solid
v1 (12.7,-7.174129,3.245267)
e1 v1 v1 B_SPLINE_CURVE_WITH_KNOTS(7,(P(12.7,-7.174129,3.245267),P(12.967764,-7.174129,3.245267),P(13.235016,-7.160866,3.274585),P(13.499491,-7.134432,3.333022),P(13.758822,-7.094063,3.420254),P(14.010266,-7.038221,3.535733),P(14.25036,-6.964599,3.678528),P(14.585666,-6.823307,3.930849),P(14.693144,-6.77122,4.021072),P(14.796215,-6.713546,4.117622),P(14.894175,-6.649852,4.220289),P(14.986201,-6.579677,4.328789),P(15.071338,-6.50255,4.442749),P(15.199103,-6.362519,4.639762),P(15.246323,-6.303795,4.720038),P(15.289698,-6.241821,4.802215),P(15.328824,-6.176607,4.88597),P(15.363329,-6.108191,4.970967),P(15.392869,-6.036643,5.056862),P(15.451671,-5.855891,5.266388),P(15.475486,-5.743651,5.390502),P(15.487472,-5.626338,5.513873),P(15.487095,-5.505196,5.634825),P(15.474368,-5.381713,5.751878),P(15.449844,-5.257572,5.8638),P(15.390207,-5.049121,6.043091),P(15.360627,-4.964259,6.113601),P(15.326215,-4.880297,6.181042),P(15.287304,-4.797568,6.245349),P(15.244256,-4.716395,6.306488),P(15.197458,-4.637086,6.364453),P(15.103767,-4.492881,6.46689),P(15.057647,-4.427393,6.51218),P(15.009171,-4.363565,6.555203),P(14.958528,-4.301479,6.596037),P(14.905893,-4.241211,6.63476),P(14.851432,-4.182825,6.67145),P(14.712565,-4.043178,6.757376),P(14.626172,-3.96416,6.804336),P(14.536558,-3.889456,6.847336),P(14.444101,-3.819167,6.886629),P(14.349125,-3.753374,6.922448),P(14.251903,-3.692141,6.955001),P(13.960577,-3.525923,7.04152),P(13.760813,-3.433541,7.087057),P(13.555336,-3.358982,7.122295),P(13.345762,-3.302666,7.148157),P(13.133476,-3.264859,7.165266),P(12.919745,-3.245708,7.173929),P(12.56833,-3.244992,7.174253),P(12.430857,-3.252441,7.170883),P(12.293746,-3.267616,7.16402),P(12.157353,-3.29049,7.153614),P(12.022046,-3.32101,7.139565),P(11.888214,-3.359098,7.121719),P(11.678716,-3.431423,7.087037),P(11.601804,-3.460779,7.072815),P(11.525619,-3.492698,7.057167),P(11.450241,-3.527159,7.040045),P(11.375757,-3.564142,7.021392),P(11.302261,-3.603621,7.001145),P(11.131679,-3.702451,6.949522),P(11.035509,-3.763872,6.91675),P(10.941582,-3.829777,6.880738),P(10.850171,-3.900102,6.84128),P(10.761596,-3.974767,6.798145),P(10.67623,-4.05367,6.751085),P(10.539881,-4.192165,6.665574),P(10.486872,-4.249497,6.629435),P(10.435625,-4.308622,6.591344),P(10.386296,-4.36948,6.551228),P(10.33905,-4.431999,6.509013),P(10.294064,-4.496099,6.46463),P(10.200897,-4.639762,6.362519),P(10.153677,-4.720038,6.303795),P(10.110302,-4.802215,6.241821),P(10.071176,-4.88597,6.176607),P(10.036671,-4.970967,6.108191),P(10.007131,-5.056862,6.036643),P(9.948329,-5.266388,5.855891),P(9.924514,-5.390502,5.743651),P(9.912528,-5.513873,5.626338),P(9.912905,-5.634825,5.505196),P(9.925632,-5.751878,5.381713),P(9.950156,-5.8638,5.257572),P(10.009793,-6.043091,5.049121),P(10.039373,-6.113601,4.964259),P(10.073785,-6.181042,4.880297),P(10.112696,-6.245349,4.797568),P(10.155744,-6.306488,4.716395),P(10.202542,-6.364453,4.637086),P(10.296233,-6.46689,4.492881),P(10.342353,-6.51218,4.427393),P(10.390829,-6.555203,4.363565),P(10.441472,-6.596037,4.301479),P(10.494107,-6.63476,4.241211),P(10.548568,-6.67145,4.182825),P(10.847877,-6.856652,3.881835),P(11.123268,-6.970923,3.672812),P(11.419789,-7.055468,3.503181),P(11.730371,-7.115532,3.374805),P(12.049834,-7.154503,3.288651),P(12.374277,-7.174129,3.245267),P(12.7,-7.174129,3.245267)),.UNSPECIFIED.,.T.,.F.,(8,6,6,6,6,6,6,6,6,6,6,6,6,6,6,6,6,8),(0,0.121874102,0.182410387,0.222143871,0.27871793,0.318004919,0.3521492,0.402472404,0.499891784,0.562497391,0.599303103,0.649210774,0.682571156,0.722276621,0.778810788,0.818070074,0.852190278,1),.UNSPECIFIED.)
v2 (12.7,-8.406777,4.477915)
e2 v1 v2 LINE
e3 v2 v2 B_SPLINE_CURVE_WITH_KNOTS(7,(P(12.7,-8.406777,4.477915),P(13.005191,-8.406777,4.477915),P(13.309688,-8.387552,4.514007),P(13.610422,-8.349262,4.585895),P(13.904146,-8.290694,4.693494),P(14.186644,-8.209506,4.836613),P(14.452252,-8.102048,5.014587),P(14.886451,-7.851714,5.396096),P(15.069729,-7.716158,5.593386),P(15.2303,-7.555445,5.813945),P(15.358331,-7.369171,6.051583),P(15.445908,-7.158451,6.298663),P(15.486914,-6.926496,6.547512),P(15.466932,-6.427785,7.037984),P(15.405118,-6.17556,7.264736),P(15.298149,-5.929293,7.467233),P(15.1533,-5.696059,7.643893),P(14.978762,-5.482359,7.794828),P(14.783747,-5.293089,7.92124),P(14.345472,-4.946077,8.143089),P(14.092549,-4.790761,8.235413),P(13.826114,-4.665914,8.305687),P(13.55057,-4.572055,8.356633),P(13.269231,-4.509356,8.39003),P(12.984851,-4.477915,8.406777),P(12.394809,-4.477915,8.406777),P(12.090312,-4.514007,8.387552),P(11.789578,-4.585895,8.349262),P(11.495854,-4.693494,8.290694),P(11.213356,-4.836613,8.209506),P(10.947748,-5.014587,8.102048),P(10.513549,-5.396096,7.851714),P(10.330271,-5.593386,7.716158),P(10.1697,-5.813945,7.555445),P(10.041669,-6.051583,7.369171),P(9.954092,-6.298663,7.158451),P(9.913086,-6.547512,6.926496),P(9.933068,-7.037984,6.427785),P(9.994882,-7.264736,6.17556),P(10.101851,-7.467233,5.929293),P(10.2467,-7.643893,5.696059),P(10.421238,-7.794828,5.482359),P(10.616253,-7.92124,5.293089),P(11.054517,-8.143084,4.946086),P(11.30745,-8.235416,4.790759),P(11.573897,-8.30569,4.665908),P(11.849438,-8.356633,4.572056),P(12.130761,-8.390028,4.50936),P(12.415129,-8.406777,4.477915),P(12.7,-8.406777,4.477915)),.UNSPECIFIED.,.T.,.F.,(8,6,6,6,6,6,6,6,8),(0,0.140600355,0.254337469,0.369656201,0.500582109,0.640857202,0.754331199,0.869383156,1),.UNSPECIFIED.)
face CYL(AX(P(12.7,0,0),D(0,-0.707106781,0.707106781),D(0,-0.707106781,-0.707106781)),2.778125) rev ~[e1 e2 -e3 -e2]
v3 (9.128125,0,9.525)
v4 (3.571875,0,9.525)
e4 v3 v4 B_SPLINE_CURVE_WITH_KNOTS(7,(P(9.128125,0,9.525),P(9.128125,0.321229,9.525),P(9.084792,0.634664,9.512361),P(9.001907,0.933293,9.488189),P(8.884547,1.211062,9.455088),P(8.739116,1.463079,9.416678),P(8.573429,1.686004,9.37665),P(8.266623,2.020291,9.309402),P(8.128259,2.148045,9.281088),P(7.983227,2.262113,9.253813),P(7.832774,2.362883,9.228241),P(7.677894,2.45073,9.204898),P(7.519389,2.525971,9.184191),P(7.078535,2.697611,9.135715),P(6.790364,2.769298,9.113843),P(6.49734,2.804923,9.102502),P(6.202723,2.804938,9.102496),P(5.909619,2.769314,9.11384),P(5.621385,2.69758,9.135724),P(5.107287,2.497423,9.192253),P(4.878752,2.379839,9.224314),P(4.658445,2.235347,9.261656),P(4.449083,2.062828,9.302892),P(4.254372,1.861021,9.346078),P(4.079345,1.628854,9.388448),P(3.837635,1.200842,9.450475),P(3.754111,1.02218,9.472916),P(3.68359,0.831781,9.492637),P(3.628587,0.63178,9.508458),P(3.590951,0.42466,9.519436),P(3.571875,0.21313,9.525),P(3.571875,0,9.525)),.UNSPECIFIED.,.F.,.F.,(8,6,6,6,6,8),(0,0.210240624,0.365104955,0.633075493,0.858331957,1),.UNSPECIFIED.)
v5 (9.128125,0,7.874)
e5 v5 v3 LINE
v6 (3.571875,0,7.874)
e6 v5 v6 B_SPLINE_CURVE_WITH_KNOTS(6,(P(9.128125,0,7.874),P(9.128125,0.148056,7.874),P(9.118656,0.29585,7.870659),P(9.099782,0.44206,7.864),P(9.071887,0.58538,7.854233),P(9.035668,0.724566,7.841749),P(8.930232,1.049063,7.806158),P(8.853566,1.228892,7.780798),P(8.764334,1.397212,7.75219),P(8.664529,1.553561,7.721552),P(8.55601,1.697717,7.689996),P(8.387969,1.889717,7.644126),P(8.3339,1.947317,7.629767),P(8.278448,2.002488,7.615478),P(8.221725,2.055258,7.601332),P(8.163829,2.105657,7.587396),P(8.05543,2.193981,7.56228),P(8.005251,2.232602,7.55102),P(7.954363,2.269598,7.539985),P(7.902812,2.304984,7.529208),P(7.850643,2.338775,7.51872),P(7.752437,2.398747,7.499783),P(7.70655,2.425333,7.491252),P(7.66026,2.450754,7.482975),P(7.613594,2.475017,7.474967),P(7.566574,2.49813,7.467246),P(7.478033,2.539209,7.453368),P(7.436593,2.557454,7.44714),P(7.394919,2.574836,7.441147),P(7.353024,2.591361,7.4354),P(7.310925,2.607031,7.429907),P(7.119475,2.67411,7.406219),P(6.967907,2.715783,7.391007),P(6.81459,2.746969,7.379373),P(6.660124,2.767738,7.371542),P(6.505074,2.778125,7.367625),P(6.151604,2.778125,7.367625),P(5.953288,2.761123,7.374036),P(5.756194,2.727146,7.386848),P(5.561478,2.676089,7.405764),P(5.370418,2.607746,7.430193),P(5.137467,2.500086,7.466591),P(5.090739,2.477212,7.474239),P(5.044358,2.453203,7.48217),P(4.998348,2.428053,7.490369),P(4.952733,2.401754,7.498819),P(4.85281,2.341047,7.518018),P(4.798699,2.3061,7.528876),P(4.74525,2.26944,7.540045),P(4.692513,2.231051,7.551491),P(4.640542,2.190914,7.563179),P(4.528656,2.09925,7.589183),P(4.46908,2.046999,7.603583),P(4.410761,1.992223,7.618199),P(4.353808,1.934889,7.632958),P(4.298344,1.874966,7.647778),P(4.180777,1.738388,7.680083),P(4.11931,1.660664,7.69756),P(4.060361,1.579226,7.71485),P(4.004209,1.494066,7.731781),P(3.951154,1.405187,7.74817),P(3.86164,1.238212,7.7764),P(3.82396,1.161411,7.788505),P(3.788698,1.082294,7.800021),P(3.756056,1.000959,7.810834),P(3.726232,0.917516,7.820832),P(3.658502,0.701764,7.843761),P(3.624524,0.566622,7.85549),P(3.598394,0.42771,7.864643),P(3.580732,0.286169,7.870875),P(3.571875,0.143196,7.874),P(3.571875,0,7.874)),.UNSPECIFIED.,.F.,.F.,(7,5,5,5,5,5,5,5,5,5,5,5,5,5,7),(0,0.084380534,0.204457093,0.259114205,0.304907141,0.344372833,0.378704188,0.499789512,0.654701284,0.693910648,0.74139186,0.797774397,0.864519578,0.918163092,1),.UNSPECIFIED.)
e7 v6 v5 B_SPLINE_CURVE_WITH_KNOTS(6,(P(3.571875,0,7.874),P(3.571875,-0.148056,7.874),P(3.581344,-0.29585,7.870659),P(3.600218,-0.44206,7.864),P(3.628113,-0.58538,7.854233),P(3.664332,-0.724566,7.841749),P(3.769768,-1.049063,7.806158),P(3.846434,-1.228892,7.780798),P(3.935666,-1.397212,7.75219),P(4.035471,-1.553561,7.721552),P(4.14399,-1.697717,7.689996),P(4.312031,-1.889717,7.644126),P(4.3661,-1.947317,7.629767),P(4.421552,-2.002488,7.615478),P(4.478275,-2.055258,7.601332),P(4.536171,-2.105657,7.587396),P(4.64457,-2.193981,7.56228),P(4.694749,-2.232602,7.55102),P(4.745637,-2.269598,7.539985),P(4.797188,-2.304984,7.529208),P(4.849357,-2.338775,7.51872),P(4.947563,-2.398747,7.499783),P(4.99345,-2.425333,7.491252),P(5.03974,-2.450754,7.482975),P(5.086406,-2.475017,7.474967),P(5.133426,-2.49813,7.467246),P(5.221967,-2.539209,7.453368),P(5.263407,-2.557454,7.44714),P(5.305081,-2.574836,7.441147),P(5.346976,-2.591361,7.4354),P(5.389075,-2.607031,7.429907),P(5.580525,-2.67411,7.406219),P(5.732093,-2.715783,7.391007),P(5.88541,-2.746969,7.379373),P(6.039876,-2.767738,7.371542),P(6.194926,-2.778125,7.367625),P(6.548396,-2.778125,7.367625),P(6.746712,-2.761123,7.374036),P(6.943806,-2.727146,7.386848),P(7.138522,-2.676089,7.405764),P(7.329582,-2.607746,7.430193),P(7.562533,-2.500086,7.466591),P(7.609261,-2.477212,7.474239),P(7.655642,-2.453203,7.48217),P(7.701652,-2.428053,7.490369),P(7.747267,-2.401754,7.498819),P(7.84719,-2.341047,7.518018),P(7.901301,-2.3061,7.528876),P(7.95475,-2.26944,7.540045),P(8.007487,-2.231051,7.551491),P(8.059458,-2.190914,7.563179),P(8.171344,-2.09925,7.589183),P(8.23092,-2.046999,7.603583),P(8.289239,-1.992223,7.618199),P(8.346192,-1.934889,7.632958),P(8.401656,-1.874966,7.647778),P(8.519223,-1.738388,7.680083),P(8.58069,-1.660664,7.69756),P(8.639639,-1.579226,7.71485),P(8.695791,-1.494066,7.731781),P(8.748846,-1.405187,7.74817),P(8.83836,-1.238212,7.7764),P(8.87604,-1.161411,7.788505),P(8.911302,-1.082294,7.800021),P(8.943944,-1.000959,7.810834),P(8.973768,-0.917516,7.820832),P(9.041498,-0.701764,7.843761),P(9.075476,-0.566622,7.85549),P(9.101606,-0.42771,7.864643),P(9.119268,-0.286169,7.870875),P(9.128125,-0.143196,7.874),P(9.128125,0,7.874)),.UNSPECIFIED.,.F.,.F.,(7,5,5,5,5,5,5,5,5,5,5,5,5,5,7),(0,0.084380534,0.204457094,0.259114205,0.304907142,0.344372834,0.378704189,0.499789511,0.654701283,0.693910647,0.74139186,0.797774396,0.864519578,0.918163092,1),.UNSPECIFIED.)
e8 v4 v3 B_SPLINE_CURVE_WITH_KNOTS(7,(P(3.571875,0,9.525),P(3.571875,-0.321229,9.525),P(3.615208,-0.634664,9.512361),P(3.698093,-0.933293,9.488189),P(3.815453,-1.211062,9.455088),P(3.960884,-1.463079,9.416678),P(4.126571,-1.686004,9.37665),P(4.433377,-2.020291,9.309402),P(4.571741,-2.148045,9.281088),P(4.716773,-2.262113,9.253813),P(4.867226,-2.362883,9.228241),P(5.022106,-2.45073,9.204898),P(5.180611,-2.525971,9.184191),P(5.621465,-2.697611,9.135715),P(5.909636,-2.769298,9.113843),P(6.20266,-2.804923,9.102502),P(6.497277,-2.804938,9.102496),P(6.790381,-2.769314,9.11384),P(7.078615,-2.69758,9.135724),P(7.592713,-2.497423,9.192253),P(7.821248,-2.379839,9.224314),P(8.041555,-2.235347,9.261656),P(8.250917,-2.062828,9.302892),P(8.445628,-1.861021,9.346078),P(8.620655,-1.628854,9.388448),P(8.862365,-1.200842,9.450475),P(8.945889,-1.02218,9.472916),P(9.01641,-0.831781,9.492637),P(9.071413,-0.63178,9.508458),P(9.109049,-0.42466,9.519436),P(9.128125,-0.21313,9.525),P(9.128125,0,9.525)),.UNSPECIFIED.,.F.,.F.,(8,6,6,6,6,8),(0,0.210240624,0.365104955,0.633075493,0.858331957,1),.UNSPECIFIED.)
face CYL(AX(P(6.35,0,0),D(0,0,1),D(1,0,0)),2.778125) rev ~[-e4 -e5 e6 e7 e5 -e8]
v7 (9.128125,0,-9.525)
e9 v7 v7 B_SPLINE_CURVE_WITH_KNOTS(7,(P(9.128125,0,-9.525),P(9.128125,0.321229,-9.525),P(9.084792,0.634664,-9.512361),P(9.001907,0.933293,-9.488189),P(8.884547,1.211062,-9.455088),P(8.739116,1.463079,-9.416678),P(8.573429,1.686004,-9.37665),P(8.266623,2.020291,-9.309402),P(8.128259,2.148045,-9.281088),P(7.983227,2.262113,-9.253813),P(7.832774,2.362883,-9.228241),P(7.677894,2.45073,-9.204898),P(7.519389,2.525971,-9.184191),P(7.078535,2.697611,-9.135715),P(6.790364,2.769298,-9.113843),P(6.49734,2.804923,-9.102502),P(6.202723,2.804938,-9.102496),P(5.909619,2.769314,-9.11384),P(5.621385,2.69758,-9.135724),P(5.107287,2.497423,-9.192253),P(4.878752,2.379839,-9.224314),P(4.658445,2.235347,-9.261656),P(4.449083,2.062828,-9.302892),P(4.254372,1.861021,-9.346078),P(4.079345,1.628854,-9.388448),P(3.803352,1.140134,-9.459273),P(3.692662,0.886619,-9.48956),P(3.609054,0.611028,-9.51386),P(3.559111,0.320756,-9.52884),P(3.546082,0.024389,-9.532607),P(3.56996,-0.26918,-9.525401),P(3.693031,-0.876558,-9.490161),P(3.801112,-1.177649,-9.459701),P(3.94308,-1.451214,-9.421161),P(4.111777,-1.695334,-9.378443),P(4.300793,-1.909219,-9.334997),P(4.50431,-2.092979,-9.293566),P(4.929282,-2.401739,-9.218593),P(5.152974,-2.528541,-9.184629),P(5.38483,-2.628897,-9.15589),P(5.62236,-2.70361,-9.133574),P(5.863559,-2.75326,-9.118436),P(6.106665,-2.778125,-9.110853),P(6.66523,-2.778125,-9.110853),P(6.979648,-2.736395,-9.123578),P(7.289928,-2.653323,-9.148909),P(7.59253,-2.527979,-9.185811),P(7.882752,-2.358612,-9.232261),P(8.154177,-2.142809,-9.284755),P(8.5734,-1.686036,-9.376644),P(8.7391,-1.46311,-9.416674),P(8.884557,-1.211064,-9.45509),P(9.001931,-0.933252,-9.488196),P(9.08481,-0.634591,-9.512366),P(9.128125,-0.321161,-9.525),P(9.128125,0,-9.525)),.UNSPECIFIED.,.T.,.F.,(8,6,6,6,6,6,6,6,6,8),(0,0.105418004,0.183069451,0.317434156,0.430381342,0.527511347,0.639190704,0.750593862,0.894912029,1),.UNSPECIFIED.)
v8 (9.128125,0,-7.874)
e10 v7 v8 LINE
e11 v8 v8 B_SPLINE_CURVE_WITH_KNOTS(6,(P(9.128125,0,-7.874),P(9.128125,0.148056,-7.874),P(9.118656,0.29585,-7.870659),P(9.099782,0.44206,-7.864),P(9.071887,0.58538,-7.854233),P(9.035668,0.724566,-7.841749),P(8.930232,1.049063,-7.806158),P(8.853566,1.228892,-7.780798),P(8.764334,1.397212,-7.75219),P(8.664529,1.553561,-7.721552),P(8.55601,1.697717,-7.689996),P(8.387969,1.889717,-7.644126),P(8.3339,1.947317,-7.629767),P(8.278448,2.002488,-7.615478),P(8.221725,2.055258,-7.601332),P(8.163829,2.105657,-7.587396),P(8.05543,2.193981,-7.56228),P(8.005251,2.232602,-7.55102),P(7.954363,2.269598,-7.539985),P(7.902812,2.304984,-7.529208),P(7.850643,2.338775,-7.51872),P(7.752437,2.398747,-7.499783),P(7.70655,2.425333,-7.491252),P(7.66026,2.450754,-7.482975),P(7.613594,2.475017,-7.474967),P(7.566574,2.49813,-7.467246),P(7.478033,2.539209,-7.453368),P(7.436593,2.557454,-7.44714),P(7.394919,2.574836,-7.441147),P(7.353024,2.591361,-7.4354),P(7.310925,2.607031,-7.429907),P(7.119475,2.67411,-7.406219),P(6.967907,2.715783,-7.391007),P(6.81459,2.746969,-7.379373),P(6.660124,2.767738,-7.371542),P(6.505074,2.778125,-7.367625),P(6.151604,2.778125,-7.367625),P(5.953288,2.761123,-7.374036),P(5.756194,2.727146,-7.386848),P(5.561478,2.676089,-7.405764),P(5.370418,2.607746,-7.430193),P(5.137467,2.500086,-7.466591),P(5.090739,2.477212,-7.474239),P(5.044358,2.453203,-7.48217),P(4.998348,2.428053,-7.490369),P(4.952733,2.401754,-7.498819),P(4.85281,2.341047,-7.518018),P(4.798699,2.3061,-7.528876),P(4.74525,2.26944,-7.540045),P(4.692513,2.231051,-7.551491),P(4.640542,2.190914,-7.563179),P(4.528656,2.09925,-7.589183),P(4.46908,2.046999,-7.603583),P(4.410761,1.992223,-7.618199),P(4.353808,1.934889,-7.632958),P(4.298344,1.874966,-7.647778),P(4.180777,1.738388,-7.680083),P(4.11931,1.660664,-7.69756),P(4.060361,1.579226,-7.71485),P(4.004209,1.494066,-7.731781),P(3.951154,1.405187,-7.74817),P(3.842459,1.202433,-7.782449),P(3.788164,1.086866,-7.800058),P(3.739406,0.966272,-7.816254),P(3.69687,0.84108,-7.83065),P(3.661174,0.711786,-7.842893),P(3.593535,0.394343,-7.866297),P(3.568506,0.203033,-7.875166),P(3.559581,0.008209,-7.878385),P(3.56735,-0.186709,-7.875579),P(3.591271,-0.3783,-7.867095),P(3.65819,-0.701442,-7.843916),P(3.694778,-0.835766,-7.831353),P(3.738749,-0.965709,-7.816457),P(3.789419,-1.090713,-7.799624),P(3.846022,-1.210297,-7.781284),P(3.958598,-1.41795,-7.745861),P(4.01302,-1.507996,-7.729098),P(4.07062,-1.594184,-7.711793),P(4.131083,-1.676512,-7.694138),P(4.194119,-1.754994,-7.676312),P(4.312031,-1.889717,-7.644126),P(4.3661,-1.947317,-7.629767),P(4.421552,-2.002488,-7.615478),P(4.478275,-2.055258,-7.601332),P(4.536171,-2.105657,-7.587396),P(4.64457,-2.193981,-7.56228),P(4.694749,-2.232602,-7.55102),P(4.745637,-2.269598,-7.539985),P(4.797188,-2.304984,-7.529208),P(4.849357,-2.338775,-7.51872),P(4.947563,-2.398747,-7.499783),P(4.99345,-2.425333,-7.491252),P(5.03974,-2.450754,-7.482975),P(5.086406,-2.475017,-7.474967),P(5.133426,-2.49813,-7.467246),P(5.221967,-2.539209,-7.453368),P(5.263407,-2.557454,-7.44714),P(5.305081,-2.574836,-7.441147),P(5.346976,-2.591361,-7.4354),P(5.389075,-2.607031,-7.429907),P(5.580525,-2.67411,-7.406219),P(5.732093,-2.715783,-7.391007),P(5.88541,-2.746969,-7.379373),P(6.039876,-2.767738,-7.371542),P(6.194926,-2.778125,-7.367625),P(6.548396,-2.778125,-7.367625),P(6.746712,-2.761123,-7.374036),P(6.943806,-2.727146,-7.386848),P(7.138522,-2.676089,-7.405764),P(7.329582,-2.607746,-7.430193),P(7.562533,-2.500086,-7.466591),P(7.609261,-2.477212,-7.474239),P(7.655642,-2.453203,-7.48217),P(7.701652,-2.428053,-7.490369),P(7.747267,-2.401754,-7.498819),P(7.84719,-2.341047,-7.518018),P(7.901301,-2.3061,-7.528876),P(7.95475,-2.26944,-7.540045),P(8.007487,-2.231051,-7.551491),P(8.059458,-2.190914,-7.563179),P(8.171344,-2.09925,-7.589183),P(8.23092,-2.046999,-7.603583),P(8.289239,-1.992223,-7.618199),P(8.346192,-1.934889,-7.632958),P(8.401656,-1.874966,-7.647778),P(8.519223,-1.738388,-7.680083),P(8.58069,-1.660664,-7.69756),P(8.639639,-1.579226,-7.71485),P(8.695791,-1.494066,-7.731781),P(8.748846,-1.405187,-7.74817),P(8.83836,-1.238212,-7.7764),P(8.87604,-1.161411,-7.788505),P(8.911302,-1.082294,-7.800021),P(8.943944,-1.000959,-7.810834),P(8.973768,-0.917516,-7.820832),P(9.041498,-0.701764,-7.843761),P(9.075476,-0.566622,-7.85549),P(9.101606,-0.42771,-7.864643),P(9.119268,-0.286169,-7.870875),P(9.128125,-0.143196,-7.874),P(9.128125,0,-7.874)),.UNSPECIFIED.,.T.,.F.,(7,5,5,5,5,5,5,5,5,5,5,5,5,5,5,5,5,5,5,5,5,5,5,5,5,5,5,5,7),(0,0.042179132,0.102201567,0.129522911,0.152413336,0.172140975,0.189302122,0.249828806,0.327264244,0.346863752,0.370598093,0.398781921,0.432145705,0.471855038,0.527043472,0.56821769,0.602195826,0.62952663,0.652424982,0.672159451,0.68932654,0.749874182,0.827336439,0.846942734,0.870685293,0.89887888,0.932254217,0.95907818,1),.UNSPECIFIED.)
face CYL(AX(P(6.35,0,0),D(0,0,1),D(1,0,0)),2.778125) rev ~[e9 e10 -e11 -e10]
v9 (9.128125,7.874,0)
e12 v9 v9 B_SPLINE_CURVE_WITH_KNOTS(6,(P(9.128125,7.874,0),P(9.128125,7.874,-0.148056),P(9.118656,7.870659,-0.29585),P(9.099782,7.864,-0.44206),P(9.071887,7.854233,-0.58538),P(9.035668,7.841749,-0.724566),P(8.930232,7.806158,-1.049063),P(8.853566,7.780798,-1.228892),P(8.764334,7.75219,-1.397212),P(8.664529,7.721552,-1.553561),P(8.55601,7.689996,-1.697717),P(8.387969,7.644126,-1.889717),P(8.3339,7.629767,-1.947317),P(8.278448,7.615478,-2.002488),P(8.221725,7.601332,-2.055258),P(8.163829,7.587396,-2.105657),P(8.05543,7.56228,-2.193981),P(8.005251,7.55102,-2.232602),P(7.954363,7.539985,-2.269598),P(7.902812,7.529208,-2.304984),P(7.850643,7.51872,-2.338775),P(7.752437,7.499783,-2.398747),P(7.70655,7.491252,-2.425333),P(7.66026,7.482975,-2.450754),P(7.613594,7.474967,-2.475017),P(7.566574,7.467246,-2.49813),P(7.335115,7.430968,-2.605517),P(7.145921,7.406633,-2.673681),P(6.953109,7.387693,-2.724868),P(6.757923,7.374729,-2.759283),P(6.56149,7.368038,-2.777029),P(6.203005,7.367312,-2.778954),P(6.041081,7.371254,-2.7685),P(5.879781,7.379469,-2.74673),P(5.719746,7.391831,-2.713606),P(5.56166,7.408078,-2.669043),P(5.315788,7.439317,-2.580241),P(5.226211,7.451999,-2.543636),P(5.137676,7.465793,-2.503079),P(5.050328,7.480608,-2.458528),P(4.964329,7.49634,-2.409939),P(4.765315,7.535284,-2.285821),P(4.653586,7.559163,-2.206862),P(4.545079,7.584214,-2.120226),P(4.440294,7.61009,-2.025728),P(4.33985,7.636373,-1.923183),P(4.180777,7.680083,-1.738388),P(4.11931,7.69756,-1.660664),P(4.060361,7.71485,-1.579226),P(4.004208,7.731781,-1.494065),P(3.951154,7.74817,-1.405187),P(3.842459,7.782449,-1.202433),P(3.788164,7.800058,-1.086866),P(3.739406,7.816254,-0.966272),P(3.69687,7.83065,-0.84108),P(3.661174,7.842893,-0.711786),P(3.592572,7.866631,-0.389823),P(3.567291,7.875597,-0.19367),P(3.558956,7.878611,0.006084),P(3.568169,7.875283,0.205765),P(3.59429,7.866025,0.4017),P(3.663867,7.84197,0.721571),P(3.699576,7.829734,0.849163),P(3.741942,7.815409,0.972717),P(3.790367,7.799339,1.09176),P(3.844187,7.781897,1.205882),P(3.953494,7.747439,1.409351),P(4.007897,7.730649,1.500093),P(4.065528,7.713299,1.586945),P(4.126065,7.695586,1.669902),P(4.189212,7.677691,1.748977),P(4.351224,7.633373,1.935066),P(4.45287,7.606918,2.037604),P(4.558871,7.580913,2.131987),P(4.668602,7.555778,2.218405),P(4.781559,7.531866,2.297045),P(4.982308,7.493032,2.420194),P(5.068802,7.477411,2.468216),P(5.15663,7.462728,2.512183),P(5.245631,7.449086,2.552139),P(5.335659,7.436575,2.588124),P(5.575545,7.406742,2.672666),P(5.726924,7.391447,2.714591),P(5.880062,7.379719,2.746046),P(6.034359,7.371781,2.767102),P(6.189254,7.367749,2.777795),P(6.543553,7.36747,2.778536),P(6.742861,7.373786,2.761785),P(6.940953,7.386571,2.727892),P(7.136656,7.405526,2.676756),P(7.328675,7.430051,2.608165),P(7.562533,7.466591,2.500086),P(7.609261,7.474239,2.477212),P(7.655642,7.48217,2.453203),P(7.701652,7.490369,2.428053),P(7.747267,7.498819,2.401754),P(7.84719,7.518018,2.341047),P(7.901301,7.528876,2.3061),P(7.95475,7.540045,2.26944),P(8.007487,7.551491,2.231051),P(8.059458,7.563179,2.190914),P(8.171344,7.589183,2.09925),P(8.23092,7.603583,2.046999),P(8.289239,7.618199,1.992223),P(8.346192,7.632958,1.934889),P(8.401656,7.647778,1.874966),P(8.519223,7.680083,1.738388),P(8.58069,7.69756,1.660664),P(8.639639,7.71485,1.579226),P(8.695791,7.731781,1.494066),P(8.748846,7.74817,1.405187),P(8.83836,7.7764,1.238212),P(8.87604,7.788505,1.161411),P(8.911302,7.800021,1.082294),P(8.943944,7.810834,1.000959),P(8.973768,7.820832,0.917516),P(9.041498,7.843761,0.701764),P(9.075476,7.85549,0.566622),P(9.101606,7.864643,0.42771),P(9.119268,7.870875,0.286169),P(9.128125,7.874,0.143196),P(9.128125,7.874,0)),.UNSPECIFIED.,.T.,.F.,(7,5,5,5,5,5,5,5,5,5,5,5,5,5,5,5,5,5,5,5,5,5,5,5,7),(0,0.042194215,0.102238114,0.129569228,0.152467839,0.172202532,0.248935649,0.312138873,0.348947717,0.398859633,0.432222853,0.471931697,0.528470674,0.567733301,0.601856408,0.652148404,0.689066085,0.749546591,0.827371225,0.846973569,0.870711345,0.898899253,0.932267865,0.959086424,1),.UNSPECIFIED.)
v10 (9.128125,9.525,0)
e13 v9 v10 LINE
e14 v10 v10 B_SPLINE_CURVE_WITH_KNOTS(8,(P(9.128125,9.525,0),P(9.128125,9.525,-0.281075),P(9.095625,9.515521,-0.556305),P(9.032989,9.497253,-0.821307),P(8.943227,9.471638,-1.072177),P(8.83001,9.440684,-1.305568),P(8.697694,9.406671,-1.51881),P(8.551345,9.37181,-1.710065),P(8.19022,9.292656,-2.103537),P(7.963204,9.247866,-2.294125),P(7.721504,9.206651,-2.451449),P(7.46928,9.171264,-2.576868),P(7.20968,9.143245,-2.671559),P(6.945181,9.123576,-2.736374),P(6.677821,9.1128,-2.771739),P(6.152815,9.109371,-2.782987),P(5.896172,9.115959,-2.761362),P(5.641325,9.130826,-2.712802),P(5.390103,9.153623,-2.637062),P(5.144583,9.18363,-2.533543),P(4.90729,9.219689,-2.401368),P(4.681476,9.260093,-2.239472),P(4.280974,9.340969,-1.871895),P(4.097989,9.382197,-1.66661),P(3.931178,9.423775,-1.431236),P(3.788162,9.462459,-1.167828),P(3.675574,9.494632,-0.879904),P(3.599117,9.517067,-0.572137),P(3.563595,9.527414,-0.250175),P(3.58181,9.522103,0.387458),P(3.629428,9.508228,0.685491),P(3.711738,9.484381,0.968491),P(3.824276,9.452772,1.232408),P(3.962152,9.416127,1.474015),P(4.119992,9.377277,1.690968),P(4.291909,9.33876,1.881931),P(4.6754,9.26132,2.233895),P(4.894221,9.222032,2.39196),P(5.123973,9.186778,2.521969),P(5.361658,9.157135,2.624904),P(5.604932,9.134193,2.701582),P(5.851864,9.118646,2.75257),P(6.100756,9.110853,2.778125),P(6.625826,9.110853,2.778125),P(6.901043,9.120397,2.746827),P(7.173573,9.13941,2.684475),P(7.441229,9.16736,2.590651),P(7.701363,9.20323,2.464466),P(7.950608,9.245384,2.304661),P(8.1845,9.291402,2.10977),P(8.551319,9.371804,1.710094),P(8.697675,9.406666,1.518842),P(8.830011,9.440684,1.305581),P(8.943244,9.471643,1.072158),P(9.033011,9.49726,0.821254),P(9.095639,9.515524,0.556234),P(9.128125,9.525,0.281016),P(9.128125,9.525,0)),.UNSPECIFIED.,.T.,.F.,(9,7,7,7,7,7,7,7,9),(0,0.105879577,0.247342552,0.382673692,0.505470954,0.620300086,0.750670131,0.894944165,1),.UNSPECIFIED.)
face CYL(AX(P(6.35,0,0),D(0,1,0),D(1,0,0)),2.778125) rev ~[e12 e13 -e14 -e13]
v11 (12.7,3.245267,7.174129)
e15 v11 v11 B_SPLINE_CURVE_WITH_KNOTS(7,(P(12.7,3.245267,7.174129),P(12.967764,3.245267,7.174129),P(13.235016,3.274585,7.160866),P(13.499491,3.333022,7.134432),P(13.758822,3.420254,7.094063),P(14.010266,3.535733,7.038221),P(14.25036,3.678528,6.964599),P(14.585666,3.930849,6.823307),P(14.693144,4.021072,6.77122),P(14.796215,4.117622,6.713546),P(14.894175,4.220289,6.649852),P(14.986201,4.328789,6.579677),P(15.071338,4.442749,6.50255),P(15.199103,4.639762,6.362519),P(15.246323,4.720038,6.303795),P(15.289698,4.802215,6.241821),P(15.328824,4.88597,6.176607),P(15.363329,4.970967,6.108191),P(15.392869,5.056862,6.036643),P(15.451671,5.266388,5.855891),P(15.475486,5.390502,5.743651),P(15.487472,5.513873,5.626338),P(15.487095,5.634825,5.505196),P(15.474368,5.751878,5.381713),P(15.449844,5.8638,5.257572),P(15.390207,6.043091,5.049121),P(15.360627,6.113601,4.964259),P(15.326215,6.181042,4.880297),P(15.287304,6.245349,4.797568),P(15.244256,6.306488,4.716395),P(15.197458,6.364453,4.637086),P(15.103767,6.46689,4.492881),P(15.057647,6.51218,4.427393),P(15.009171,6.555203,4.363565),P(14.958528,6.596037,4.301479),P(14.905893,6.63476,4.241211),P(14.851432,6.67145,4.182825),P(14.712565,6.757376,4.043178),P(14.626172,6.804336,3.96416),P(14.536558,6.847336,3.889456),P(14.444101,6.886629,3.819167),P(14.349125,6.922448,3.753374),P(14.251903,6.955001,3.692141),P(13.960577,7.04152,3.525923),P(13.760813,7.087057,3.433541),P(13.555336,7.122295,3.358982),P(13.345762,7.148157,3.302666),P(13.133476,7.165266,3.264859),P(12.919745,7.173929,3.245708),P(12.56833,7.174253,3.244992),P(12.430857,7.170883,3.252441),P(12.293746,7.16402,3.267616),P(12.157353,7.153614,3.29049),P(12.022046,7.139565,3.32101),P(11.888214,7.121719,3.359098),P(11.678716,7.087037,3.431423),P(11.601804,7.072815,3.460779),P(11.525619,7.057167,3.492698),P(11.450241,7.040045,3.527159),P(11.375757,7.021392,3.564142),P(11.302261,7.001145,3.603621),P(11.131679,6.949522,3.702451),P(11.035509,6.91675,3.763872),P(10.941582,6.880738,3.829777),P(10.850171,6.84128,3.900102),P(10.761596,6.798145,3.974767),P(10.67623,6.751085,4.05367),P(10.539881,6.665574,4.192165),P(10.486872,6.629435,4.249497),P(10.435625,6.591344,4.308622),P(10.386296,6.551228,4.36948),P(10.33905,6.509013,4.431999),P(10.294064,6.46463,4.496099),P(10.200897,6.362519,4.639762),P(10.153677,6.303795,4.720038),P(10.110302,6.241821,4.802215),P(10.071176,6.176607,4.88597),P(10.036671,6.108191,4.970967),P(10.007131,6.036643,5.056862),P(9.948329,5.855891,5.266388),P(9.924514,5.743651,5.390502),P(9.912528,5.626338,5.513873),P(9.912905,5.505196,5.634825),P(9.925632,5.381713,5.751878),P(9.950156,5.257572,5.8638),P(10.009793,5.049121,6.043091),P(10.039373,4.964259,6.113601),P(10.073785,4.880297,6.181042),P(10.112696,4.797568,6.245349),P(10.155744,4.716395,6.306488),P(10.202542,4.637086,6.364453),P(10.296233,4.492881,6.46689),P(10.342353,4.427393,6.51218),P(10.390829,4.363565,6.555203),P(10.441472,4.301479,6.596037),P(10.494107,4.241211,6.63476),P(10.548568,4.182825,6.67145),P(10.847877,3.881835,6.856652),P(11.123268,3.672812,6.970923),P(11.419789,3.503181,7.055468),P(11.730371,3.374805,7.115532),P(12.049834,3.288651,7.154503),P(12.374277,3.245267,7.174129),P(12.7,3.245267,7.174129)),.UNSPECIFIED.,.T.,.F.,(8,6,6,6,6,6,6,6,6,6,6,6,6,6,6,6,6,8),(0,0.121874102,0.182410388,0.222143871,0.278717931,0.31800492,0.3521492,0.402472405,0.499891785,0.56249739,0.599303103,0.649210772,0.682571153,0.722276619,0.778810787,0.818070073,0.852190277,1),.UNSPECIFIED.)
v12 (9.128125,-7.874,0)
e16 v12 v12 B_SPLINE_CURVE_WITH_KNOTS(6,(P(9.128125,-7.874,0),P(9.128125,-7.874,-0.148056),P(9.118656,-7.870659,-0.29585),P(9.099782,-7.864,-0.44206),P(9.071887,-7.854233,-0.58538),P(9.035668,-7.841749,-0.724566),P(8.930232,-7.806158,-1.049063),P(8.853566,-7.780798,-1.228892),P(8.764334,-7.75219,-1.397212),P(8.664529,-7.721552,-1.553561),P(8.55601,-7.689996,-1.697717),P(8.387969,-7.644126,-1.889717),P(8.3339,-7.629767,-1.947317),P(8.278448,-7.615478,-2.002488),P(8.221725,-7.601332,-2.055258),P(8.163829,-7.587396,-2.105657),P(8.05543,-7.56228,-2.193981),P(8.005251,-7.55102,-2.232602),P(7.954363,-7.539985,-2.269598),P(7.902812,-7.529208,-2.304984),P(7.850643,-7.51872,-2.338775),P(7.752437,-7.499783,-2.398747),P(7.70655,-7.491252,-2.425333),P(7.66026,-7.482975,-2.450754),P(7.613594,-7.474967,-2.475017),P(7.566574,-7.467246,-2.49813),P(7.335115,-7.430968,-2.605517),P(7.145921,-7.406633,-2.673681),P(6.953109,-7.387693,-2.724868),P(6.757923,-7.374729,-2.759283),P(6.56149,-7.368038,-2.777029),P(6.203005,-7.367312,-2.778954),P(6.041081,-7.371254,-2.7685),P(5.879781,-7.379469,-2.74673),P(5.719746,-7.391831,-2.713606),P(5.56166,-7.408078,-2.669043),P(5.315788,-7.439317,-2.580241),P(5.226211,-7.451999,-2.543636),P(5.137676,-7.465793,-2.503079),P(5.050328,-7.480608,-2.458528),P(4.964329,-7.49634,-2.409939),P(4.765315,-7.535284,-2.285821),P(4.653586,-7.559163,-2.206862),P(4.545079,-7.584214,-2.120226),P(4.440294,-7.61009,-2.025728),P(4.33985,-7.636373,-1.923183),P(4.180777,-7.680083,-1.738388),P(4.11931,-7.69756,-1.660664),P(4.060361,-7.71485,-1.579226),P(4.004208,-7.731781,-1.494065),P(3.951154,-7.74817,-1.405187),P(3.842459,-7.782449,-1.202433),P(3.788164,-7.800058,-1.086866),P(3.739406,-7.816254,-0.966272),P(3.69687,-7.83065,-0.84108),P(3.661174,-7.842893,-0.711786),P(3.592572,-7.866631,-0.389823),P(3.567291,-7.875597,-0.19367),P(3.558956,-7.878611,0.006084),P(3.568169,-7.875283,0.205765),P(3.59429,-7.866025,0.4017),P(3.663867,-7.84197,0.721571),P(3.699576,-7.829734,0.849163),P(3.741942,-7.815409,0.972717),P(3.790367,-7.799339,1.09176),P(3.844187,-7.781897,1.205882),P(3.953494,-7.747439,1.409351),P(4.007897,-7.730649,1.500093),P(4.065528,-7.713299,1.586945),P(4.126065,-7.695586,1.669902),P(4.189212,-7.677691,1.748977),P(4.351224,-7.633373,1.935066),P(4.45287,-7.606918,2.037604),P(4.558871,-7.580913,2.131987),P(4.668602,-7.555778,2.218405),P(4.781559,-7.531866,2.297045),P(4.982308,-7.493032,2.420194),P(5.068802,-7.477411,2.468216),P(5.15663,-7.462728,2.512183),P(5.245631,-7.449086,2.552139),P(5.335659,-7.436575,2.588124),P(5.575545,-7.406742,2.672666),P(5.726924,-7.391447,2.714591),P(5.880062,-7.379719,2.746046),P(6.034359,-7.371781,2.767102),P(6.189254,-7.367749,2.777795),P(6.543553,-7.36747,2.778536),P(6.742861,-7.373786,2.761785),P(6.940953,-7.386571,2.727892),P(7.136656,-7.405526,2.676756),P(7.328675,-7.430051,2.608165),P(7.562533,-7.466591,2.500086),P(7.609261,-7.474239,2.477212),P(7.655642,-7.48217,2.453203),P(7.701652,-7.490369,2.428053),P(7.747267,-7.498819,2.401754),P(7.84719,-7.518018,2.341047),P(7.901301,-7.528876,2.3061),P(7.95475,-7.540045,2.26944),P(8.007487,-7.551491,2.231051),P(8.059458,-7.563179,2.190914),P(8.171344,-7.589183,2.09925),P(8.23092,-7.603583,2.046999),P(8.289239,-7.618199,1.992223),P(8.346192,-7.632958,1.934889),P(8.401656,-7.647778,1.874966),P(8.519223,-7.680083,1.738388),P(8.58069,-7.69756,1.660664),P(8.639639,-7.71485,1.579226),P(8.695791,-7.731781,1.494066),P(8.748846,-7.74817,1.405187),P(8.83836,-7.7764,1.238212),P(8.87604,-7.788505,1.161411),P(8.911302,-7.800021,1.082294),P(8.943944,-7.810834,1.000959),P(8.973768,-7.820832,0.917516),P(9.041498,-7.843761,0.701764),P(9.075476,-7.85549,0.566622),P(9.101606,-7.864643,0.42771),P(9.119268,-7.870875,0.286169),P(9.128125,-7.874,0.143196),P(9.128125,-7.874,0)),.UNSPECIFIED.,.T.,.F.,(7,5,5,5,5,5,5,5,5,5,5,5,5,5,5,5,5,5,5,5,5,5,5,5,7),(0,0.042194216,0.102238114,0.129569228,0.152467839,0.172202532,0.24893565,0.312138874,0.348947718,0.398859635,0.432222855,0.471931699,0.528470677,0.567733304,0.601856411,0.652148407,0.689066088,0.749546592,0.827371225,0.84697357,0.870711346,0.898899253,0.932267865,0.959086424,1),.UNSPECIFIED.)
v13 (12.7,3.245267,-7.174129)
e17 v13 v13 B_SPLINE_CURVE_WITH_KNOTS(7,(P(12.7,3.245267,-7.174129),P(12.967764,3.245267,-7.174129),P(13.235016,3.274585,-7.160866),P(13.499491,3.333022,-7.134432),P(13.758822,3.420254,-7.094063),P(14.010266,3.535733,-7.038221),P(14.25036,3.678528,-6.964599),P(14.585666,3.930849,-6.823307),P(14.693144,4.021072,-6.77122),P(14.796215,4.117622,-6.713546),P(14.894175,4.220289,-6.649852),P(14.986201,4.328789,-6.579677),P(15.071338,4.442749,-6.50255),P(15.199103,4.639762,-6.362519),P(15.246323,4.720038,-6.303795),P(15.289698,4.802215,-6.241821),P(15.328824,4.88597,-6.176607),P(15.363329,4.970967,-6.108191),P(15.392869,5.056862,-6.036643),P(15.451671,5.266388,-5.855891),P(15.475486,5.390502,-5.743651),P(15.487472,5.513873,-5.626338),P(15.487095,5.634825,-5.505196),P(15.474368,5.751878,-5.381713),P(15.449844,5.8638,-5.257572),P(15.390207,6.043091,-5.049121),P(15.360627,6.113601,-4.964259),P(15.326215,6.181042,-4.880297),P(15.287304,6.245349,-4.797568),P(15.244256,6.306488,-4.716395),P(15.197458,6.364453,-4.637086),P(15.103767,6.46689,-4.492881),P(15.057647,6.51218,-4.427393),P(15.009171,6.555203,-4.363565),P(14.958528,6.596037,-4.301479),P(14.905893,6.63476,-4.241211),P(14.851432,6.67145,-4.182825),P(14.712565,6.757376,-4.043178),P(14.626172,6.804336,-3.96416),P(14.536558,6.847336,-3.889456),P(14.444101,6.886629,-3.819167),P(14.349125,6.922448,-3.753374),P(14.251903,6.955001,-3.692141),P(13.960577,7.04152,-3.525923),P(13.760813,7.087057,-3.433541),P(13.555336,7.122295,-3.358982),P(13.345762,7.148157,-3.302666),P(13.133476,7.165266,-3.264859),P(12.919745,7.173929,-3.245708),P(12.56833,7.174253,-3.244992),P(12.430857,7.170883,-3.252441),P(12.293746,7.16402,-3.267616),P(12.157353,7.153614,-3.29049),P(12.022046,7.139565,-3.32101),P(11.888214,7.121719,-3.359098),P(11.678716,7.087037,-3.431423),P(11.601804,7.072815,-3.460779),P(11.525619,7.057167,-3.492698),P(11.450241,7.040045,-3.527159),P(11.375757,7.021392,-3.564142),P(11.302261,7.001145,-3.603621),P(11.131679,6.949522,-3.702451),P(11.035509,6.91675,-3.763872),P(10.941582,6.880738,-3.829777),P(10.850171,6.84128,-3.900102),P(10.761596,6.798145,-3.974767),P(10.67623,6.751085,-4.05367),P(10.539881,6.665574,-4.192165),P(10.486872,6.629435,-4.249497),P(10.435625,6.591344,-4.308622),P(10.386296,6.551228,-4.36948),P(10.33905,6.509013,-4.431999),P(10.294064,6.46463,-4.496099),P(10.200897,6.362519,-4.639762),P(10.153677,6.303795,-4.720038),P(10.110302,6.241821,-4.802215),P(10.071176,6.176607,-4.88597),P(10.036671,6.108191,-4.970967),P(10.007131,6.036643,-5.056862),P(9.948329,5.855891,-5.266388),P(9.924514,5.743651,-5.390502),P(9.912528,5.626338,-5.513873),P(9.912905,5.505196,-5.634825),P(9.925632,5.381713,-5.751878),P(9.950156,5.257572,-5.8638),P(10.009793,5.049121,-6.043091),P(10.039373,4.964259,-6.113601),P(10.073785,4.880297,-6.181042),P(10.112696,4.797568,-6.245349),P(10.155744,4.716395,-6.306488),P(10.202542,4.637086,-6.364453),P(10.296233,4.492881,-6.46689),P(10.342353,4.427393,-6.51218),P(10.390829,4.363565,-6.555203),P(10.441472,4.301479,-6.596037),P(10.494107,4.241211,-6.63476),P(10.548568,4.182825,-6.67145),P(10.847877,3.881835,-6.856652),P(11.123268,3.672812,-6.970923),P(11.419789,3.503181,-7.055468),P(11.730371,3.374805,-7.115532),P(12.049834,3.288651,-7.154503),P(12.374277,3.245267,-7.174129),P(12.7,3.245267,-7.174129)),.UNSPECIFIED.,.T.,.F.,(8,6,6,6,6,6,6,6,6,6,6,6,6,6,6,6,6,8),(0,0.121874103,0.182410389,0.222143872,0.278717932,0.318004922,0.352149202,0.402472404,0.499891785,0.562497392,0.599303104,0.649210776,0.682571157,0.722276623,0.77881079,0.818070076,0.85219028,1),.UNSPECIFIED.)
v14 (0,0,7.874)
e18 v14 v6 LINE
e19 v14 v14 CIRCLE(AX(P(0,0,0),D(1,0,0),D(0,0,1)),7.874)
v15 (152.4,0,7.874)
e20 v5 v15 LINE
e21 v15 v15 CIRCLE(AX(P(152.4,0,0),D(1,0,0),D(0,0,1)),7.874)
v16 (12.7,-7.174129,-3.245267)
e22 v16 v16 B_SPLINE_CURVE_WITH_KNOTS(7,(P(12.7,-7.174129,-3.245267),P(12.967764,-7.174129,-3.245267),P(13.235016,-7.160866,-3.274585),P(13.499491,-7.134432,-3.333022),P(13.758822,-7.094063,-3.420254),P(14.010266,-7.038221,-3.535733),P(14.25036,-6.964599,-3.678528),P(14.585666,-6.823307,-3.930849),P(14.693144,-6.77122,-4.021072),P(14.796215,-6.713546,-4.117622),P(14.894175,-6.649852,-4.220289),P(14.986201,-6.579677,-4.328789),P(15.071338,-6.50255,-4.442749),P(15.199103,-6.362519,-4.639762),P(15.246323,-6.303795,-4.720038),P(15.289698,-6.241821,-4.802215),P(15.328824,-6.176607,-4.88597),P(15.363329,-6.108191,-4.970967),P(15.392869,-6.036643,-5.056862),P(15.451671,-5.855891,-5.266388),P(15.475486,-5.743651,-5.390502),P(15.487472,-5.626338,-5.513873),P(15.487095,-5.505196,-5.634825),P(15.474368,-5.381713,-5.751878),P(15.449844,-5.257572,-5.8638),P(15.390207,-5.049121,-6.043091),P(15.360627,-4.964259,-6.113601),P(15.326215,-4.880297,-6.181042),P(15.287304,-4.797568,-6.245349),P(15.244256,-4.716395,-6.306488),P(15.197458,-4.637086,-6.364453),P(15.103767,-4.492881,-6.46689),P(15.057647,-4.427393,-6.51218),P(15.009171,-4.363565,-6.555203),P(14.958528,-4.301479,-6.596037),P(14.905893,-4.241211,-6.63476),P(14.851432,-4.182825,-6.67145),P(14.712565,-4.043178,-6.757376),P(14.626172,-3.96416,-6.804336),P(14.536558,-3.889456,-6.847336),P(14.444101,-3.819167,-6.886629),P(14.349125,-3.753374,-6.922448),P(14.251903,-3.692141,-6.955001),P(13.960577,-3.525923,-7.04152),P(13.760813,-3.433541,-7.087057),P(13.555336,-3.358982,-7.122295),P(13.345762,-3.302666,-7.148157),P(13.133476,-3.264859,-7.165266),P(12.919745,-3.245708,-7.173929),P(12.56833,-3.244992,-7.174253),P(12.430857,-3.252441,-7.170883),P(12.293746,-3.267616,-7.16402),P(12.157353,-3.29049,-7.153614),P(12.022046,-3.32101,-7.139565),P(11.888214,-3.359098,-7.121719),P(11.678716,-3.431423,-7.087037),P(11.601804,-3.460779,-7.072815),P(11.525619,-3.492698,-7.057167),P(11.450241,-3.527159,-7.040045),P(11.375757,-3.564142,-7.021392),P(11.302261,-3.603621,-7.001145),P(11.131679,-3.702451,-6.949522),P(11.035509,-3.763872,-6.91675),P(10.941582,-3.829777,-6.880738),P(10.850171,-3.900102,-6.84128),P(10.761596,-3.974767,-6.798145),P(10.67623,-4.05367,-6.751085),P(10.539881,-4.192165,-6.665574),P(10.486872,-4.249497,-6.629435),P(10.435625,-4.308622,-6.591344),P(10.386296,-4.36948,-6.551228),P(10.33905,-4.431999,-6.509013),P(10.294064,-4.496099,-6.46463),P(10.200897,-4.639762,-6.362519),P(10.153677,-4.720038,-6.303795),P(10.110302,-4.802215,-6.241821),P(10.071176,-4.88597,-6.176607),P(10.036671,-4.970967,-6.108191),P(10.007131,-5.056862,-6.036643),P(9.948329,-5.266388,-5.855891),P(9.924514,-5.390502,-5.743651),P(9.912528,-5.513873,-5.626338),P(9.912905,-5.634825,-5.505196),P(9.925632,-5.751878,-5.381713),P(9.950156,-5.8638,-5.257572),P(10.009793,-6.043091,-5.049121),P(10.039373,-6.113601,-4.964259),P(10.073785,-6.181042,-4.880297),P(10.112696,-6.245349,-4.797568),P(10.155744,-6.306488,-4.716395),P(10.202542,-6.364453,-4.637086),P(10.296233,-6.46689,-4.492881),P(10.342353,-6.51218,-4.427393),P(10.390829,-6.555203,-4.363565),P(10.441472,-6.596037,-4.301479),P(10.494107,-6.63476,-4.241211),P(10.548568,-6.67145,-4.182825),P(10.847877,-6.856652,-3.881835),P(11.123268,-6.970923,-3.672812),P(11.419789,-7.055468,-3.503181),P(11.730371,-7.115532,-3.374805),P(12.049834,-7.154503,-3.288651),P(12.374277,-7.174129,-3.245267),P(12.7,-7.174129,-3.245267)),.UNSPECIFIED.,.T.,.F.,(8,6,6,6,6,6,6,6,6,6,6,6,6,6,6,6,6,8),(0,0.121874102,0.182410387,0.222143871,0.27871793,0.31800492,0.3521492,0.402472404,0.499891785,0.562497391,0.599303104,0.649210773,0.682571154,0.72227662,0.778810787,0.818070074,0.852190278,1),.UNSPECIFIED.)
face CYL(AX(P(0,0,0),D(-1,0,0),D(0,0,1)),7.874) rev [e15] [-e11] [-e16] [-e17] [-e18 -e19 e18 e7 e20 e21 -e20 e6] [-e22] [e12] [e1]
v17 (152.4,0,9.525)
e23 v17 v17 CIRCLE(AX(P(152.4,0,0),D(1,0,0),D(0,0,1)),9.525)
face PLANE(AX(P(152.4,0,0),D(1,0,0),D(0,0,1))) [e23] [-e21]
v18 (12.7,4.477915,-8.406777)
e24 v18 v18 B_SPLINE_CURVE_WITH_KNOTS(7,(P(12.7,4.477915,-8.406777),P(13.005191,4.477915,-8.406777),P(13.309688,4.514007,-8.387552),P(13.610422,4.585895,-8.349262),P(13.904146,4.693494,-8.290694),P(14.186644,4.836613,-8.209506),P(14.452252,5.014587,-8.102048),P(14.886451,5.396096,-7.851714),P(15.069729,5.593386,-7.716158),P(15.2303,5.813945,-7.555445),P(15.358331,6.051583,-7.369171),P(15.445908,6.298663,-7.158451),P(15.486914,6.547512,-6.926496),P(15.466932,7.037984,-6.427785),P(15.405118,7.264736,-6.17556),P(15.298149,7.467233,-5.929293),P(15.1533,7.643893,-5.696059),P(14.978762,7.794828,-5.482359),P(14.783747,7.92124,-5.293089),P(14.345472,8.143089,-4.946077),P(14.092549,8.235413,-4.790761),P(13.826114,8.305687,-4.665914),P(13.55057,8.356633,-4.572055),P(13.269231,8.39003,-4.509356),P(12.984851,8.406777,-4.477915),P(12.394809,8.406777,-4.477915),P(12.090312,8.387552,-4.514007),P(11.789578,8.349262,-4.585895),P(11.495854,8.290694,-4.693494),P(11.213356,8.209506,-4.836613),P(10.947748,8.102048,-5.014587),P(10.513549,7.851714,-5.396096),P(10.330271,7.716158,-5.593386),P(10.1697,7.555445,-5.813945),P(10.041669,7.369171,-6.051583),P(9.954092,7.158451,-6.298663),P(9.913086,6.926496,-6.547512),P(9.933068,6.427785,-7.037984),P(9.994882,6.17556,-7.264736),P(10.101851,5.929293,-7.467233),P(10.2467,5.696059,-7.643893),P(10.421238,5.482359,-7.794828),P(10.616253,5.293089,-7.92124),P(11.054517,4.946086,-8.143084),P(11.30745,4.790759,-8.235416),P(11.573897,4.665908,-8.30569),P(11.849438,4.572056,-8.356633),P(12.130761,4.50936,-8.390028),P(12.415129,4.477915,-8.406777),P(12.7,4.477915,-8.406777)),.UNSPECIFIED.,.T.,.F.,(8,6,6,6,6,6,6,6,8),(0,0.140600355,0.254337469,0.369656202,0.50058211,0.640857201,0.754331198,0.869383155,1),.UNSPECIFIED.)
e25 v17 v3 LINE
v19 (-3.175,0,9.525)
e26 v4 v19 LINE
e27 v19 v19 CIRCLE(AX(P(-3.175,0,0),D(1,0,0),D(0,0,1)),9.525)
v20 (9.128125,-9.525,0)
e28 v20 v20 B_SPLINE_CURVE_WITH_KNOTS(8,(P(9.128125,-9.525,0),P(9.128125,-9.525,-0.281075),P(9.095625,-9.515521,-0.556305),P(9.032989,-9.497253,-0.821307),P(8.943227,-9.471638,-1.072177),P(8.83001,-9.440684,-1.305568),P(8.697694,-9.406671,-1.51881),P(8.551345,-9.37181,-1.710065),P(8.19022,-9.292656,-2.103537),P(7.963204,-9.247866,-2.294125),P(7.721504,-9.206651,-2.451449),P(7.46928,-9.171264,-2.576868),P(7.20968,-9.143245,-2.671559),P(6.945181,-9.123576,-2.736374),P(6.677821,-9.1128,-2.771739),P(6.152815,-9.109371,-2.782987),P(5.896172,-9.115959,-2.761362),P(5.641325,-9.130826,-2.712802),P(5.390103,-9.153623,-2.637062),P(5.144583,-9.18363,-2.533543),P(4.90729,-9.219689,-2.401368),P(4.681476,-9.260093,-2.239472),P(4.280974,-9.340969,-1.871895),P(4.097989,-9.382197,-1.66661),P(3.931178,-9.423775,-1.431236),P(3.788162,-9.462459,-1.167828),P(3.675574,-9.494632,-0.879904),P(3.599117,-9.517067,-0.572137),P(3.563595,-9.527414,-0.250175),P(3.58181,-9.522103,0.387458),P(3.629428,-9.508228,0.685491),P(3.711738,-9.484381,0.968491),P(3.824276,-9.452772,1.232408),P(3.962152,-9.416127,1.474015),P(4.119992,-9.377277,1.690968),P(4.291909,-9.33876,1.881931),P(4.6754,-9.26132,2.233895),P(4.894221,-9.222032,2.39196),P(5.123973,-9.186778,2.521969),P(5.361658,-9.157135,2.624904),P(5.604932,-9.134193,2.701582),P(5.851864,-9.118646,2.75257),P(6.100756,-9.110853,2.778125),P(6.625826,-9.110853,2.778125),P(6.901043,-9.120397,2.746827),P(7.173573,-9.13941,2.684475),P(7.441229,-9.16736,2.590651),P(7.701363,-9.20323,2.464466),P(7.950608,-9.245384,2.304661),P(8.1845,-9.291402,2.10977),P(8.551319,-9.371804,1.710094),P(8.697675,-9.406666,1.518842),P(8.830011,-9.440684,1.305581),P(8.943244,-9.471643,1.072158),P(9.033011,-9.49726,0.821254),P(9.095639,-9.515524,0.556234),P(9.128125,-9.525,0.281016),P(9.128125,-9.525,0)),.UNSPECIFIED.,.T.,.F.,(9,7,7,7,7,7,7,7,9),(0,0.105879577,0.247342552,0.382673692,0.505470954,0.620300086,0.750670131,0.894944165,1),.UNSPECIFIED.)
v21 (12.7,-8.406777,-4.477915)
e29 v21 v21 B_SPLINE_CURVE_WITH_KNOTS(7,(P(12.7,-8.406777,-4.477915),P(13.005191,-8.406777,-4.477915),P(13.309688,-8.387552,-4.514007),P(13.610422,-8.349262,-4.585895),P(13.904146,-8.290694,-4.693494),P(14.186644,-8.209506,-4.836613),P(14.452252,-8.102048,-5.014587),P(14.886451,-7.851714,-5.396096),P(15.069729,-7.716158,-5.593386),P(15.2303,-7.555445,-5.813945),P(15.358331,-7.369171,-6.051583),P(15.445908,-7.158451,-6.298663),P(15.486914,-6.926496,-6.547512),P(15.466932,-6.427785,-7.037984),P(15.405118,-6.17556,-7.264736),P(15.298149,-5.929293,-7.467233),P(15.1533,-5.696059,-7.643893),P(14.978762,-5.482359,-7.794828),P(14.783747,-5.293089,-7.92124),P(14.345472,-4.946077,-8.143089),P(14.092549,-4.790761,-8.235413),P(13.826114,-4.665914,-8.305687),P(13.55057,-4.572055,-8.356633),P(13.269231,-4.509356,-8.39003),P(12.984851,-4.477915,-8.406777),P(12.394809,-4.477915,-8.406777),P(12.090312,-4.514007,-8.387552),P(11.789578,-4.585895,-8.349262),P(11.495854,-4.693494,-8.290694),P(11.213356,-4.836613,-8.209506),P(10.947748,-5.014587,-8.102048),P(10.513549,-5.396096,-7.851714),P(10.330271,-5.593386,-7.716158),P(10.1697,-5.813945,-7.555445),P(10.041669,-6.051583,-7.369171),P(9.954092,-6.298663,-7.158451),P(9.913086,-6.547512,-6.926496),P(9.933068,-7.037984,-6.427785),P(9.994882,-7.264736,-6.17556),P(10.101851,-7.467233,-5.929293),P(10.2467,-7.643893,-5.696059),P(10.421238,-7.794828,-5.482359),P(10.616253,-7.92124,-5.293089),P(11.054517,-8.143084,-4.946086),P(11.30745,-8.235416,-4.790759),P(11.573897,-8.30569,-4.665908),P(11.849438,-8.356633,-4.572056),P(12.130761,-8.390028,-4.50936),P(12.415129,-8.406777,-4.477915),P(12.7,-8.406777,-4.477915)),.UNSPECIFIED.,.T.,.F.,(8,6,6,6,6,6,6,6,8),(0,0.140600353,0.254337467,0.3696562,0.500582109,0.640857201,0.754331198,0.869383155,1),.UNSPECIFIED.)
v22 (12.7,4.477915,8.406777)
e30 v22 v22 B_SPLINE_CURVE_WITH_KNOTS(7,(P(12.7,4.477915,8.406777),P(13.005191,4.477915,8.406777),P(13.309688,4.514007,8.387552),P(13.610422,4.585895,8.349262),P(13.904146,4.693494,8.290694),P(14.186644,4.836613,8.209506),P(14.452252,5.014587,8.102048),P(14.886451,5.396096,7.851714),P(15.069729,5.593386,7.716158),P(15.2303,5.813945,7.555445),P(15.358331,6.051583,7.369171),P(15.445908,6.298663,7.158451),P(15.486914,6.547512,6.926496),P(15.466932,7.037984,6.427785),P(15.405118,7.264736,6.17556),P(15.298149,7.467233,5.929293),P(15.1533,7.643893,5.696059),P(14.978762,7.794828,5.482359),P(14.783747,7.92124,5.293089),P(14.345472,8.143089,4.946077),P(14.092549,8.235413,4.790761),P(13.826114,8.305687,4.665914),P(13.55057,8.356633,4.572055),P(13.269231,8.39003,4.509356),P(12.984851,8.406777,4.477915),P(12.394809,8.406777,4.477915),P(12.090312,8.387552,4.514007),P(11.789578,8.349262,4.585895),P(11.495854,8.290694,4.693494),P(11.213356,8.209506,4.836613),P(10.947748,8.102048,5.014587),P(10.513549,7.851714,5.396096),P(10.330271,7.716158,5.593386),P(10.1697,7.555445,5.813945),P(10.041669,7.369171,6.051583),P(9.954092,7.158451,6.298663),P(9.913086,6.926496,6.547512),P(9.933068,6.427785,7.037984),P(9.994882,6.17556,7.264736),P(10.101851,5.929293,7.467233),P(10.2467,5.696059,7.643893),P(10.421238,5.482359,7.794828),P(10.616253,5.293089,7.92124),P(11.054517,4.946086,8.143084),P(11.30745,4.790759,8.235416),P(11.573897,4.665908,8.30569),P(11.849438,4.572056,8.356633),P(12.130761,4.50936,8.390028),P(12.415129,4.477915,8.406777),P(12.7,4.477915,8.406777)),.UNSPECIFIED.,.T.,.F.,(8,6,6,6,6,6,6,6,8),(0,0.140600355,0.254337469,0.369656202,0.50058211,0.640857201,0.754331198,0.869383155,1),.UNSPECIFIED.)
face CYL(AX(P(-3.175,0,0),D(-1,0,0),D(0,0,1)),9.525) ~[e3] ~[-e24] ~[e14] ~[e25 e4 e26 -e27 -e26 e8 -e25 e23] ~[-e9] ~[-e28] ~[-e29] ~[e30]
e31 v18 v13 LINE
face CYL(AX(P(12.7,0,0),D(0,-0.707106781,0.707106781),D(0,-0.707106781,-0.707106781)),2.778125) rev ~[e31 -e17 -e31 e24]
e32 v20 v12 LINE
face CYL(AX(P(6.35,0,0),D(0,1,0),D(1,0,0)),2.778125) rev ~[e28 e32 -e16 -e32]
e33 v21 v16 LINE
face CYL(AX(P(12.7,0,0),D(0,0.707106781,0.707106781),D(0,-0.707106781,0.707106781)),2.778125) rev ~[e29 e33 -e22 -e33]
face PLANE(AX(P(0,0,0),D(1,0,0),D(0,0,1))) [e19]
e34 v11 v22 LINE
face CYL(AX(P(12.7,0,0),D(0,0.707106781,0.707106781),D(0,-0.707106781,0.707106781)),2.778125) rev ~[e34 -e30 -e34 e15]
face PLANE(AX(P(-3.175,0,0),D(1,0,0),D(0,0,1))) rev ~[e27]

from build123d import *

# Parameters (mm, degrees)
SKETCH1_R           = 9.525
SKETCH1_R_2         = 7.874
BOSS_EXTRUDE1_DEPTH = 152.4
BOSS_EXTRUDE2_START = -3.175
SKETCH2_R           = 9.525
BOSS_EXTRUDE2_DEPTH = 3.175
SKETCH3_R           = 2.778125
CUT_EXTRUDE1_DEPTH  = 12.7
CIRPATTERN1_COUNT   = 2
CIRPATTERN1_ANGLE   = 90
SKETCH4_R           = 2.778125
CUT_EXTRUDE2_DEPTH  = 12.7
CIRPATTERN2_COUNT   = 2
CIRPATTERN2_ANGLE   = 90


with BuildPart() as part:
    # Sketch1 → Boss-Extrude1 (new body)
    with BuildSketch(Plane(origin=(0, 0, 0), x_dir=(0, 0, -1), z_dir=(1, 0, 0))):
        with Locations(Location((0, 0, 0), (0, 0, 180))):
            Circle(SKETCH1_R)
        with Locations(Location((0, 0, 0), (0, 0, 180))):
            Circle(SKETCH1_R_2, mode=Mode.SUBTRACT)
    extrude(amount=BOSS_EXTRUDE1_DEPTH)

    # Sketch2 → Boss-Extrude2 (add)
    with BuildSketch(Plane(origin=(0, 0, 0), x_dir=(0, 0, -1), z_dir=(1, 0, 0)).offset(BOSS_EXTRUDE2_START)):
        with Locations(Location((0, 0, 0), (0, 0, 180))):
            Circle(SKETCH2_R)
    extrude(amount=BOSS_EXTRUDE2_DEPTH)

    # Sketch3 → Cut-Extrude1 (cut, symmetric)
    with BuildSketch(Plane.XY):
        with Locations((6.35, 0)):
            Circle(SKETCH3_R)
    cut_extrude1 = extrude(amount=CUT_EXTRUDE1_DEPTH, both=True, mode=Mode.SUBTRACT)

    # CirPattern1: Cut-Extrude1 ×2 about axis
    cirpattern1_axis = Axis((152.4, 0, 0), (-1, 0, 0))
    for i in range(1, CIRPATTERN1_COUNT):
        add(cut_extrude1.rotate(cirpattern1_axis, i * CIRPATTERN1_ANGLE / (CIRPATTERN1_COUNT - 1)), mode=Mode.SUBTRACT)

    # Sketch4 → Cut-Extrude2 (cut, symmetric)
    with BuildSketch(Plane(origin=(0, 0, 0), x_dir=(1, 0, 0), z_dir=(0, -0.7071067811865488, 0.7071067811865464))):
        with Locations(Location((12.7, 0, 0), (0, 0, 270))):
            Circle(SKETCH4_R)
    cut_extrude2 = extrude(amount=CUT_EXTRUDE2_DEPTH, both=True, mode=Mode.SUBTRACT)

    # CirPattern2: Cut-Extrude2 ×2 about axis
    cirpattern2_axis = Axis((152.4, 0, 0), (-1, 0, 0))
    for i in range(1, CIRPATTERN2_COUNT):
        add(cut_extrude2.rotate(cirpattern2_axis, i * CIRPATTERN2_ANGLE / (CIRPATTERN2_COUNT - 1)), mode=Mode.SUBTRACT)


solid = part.part
